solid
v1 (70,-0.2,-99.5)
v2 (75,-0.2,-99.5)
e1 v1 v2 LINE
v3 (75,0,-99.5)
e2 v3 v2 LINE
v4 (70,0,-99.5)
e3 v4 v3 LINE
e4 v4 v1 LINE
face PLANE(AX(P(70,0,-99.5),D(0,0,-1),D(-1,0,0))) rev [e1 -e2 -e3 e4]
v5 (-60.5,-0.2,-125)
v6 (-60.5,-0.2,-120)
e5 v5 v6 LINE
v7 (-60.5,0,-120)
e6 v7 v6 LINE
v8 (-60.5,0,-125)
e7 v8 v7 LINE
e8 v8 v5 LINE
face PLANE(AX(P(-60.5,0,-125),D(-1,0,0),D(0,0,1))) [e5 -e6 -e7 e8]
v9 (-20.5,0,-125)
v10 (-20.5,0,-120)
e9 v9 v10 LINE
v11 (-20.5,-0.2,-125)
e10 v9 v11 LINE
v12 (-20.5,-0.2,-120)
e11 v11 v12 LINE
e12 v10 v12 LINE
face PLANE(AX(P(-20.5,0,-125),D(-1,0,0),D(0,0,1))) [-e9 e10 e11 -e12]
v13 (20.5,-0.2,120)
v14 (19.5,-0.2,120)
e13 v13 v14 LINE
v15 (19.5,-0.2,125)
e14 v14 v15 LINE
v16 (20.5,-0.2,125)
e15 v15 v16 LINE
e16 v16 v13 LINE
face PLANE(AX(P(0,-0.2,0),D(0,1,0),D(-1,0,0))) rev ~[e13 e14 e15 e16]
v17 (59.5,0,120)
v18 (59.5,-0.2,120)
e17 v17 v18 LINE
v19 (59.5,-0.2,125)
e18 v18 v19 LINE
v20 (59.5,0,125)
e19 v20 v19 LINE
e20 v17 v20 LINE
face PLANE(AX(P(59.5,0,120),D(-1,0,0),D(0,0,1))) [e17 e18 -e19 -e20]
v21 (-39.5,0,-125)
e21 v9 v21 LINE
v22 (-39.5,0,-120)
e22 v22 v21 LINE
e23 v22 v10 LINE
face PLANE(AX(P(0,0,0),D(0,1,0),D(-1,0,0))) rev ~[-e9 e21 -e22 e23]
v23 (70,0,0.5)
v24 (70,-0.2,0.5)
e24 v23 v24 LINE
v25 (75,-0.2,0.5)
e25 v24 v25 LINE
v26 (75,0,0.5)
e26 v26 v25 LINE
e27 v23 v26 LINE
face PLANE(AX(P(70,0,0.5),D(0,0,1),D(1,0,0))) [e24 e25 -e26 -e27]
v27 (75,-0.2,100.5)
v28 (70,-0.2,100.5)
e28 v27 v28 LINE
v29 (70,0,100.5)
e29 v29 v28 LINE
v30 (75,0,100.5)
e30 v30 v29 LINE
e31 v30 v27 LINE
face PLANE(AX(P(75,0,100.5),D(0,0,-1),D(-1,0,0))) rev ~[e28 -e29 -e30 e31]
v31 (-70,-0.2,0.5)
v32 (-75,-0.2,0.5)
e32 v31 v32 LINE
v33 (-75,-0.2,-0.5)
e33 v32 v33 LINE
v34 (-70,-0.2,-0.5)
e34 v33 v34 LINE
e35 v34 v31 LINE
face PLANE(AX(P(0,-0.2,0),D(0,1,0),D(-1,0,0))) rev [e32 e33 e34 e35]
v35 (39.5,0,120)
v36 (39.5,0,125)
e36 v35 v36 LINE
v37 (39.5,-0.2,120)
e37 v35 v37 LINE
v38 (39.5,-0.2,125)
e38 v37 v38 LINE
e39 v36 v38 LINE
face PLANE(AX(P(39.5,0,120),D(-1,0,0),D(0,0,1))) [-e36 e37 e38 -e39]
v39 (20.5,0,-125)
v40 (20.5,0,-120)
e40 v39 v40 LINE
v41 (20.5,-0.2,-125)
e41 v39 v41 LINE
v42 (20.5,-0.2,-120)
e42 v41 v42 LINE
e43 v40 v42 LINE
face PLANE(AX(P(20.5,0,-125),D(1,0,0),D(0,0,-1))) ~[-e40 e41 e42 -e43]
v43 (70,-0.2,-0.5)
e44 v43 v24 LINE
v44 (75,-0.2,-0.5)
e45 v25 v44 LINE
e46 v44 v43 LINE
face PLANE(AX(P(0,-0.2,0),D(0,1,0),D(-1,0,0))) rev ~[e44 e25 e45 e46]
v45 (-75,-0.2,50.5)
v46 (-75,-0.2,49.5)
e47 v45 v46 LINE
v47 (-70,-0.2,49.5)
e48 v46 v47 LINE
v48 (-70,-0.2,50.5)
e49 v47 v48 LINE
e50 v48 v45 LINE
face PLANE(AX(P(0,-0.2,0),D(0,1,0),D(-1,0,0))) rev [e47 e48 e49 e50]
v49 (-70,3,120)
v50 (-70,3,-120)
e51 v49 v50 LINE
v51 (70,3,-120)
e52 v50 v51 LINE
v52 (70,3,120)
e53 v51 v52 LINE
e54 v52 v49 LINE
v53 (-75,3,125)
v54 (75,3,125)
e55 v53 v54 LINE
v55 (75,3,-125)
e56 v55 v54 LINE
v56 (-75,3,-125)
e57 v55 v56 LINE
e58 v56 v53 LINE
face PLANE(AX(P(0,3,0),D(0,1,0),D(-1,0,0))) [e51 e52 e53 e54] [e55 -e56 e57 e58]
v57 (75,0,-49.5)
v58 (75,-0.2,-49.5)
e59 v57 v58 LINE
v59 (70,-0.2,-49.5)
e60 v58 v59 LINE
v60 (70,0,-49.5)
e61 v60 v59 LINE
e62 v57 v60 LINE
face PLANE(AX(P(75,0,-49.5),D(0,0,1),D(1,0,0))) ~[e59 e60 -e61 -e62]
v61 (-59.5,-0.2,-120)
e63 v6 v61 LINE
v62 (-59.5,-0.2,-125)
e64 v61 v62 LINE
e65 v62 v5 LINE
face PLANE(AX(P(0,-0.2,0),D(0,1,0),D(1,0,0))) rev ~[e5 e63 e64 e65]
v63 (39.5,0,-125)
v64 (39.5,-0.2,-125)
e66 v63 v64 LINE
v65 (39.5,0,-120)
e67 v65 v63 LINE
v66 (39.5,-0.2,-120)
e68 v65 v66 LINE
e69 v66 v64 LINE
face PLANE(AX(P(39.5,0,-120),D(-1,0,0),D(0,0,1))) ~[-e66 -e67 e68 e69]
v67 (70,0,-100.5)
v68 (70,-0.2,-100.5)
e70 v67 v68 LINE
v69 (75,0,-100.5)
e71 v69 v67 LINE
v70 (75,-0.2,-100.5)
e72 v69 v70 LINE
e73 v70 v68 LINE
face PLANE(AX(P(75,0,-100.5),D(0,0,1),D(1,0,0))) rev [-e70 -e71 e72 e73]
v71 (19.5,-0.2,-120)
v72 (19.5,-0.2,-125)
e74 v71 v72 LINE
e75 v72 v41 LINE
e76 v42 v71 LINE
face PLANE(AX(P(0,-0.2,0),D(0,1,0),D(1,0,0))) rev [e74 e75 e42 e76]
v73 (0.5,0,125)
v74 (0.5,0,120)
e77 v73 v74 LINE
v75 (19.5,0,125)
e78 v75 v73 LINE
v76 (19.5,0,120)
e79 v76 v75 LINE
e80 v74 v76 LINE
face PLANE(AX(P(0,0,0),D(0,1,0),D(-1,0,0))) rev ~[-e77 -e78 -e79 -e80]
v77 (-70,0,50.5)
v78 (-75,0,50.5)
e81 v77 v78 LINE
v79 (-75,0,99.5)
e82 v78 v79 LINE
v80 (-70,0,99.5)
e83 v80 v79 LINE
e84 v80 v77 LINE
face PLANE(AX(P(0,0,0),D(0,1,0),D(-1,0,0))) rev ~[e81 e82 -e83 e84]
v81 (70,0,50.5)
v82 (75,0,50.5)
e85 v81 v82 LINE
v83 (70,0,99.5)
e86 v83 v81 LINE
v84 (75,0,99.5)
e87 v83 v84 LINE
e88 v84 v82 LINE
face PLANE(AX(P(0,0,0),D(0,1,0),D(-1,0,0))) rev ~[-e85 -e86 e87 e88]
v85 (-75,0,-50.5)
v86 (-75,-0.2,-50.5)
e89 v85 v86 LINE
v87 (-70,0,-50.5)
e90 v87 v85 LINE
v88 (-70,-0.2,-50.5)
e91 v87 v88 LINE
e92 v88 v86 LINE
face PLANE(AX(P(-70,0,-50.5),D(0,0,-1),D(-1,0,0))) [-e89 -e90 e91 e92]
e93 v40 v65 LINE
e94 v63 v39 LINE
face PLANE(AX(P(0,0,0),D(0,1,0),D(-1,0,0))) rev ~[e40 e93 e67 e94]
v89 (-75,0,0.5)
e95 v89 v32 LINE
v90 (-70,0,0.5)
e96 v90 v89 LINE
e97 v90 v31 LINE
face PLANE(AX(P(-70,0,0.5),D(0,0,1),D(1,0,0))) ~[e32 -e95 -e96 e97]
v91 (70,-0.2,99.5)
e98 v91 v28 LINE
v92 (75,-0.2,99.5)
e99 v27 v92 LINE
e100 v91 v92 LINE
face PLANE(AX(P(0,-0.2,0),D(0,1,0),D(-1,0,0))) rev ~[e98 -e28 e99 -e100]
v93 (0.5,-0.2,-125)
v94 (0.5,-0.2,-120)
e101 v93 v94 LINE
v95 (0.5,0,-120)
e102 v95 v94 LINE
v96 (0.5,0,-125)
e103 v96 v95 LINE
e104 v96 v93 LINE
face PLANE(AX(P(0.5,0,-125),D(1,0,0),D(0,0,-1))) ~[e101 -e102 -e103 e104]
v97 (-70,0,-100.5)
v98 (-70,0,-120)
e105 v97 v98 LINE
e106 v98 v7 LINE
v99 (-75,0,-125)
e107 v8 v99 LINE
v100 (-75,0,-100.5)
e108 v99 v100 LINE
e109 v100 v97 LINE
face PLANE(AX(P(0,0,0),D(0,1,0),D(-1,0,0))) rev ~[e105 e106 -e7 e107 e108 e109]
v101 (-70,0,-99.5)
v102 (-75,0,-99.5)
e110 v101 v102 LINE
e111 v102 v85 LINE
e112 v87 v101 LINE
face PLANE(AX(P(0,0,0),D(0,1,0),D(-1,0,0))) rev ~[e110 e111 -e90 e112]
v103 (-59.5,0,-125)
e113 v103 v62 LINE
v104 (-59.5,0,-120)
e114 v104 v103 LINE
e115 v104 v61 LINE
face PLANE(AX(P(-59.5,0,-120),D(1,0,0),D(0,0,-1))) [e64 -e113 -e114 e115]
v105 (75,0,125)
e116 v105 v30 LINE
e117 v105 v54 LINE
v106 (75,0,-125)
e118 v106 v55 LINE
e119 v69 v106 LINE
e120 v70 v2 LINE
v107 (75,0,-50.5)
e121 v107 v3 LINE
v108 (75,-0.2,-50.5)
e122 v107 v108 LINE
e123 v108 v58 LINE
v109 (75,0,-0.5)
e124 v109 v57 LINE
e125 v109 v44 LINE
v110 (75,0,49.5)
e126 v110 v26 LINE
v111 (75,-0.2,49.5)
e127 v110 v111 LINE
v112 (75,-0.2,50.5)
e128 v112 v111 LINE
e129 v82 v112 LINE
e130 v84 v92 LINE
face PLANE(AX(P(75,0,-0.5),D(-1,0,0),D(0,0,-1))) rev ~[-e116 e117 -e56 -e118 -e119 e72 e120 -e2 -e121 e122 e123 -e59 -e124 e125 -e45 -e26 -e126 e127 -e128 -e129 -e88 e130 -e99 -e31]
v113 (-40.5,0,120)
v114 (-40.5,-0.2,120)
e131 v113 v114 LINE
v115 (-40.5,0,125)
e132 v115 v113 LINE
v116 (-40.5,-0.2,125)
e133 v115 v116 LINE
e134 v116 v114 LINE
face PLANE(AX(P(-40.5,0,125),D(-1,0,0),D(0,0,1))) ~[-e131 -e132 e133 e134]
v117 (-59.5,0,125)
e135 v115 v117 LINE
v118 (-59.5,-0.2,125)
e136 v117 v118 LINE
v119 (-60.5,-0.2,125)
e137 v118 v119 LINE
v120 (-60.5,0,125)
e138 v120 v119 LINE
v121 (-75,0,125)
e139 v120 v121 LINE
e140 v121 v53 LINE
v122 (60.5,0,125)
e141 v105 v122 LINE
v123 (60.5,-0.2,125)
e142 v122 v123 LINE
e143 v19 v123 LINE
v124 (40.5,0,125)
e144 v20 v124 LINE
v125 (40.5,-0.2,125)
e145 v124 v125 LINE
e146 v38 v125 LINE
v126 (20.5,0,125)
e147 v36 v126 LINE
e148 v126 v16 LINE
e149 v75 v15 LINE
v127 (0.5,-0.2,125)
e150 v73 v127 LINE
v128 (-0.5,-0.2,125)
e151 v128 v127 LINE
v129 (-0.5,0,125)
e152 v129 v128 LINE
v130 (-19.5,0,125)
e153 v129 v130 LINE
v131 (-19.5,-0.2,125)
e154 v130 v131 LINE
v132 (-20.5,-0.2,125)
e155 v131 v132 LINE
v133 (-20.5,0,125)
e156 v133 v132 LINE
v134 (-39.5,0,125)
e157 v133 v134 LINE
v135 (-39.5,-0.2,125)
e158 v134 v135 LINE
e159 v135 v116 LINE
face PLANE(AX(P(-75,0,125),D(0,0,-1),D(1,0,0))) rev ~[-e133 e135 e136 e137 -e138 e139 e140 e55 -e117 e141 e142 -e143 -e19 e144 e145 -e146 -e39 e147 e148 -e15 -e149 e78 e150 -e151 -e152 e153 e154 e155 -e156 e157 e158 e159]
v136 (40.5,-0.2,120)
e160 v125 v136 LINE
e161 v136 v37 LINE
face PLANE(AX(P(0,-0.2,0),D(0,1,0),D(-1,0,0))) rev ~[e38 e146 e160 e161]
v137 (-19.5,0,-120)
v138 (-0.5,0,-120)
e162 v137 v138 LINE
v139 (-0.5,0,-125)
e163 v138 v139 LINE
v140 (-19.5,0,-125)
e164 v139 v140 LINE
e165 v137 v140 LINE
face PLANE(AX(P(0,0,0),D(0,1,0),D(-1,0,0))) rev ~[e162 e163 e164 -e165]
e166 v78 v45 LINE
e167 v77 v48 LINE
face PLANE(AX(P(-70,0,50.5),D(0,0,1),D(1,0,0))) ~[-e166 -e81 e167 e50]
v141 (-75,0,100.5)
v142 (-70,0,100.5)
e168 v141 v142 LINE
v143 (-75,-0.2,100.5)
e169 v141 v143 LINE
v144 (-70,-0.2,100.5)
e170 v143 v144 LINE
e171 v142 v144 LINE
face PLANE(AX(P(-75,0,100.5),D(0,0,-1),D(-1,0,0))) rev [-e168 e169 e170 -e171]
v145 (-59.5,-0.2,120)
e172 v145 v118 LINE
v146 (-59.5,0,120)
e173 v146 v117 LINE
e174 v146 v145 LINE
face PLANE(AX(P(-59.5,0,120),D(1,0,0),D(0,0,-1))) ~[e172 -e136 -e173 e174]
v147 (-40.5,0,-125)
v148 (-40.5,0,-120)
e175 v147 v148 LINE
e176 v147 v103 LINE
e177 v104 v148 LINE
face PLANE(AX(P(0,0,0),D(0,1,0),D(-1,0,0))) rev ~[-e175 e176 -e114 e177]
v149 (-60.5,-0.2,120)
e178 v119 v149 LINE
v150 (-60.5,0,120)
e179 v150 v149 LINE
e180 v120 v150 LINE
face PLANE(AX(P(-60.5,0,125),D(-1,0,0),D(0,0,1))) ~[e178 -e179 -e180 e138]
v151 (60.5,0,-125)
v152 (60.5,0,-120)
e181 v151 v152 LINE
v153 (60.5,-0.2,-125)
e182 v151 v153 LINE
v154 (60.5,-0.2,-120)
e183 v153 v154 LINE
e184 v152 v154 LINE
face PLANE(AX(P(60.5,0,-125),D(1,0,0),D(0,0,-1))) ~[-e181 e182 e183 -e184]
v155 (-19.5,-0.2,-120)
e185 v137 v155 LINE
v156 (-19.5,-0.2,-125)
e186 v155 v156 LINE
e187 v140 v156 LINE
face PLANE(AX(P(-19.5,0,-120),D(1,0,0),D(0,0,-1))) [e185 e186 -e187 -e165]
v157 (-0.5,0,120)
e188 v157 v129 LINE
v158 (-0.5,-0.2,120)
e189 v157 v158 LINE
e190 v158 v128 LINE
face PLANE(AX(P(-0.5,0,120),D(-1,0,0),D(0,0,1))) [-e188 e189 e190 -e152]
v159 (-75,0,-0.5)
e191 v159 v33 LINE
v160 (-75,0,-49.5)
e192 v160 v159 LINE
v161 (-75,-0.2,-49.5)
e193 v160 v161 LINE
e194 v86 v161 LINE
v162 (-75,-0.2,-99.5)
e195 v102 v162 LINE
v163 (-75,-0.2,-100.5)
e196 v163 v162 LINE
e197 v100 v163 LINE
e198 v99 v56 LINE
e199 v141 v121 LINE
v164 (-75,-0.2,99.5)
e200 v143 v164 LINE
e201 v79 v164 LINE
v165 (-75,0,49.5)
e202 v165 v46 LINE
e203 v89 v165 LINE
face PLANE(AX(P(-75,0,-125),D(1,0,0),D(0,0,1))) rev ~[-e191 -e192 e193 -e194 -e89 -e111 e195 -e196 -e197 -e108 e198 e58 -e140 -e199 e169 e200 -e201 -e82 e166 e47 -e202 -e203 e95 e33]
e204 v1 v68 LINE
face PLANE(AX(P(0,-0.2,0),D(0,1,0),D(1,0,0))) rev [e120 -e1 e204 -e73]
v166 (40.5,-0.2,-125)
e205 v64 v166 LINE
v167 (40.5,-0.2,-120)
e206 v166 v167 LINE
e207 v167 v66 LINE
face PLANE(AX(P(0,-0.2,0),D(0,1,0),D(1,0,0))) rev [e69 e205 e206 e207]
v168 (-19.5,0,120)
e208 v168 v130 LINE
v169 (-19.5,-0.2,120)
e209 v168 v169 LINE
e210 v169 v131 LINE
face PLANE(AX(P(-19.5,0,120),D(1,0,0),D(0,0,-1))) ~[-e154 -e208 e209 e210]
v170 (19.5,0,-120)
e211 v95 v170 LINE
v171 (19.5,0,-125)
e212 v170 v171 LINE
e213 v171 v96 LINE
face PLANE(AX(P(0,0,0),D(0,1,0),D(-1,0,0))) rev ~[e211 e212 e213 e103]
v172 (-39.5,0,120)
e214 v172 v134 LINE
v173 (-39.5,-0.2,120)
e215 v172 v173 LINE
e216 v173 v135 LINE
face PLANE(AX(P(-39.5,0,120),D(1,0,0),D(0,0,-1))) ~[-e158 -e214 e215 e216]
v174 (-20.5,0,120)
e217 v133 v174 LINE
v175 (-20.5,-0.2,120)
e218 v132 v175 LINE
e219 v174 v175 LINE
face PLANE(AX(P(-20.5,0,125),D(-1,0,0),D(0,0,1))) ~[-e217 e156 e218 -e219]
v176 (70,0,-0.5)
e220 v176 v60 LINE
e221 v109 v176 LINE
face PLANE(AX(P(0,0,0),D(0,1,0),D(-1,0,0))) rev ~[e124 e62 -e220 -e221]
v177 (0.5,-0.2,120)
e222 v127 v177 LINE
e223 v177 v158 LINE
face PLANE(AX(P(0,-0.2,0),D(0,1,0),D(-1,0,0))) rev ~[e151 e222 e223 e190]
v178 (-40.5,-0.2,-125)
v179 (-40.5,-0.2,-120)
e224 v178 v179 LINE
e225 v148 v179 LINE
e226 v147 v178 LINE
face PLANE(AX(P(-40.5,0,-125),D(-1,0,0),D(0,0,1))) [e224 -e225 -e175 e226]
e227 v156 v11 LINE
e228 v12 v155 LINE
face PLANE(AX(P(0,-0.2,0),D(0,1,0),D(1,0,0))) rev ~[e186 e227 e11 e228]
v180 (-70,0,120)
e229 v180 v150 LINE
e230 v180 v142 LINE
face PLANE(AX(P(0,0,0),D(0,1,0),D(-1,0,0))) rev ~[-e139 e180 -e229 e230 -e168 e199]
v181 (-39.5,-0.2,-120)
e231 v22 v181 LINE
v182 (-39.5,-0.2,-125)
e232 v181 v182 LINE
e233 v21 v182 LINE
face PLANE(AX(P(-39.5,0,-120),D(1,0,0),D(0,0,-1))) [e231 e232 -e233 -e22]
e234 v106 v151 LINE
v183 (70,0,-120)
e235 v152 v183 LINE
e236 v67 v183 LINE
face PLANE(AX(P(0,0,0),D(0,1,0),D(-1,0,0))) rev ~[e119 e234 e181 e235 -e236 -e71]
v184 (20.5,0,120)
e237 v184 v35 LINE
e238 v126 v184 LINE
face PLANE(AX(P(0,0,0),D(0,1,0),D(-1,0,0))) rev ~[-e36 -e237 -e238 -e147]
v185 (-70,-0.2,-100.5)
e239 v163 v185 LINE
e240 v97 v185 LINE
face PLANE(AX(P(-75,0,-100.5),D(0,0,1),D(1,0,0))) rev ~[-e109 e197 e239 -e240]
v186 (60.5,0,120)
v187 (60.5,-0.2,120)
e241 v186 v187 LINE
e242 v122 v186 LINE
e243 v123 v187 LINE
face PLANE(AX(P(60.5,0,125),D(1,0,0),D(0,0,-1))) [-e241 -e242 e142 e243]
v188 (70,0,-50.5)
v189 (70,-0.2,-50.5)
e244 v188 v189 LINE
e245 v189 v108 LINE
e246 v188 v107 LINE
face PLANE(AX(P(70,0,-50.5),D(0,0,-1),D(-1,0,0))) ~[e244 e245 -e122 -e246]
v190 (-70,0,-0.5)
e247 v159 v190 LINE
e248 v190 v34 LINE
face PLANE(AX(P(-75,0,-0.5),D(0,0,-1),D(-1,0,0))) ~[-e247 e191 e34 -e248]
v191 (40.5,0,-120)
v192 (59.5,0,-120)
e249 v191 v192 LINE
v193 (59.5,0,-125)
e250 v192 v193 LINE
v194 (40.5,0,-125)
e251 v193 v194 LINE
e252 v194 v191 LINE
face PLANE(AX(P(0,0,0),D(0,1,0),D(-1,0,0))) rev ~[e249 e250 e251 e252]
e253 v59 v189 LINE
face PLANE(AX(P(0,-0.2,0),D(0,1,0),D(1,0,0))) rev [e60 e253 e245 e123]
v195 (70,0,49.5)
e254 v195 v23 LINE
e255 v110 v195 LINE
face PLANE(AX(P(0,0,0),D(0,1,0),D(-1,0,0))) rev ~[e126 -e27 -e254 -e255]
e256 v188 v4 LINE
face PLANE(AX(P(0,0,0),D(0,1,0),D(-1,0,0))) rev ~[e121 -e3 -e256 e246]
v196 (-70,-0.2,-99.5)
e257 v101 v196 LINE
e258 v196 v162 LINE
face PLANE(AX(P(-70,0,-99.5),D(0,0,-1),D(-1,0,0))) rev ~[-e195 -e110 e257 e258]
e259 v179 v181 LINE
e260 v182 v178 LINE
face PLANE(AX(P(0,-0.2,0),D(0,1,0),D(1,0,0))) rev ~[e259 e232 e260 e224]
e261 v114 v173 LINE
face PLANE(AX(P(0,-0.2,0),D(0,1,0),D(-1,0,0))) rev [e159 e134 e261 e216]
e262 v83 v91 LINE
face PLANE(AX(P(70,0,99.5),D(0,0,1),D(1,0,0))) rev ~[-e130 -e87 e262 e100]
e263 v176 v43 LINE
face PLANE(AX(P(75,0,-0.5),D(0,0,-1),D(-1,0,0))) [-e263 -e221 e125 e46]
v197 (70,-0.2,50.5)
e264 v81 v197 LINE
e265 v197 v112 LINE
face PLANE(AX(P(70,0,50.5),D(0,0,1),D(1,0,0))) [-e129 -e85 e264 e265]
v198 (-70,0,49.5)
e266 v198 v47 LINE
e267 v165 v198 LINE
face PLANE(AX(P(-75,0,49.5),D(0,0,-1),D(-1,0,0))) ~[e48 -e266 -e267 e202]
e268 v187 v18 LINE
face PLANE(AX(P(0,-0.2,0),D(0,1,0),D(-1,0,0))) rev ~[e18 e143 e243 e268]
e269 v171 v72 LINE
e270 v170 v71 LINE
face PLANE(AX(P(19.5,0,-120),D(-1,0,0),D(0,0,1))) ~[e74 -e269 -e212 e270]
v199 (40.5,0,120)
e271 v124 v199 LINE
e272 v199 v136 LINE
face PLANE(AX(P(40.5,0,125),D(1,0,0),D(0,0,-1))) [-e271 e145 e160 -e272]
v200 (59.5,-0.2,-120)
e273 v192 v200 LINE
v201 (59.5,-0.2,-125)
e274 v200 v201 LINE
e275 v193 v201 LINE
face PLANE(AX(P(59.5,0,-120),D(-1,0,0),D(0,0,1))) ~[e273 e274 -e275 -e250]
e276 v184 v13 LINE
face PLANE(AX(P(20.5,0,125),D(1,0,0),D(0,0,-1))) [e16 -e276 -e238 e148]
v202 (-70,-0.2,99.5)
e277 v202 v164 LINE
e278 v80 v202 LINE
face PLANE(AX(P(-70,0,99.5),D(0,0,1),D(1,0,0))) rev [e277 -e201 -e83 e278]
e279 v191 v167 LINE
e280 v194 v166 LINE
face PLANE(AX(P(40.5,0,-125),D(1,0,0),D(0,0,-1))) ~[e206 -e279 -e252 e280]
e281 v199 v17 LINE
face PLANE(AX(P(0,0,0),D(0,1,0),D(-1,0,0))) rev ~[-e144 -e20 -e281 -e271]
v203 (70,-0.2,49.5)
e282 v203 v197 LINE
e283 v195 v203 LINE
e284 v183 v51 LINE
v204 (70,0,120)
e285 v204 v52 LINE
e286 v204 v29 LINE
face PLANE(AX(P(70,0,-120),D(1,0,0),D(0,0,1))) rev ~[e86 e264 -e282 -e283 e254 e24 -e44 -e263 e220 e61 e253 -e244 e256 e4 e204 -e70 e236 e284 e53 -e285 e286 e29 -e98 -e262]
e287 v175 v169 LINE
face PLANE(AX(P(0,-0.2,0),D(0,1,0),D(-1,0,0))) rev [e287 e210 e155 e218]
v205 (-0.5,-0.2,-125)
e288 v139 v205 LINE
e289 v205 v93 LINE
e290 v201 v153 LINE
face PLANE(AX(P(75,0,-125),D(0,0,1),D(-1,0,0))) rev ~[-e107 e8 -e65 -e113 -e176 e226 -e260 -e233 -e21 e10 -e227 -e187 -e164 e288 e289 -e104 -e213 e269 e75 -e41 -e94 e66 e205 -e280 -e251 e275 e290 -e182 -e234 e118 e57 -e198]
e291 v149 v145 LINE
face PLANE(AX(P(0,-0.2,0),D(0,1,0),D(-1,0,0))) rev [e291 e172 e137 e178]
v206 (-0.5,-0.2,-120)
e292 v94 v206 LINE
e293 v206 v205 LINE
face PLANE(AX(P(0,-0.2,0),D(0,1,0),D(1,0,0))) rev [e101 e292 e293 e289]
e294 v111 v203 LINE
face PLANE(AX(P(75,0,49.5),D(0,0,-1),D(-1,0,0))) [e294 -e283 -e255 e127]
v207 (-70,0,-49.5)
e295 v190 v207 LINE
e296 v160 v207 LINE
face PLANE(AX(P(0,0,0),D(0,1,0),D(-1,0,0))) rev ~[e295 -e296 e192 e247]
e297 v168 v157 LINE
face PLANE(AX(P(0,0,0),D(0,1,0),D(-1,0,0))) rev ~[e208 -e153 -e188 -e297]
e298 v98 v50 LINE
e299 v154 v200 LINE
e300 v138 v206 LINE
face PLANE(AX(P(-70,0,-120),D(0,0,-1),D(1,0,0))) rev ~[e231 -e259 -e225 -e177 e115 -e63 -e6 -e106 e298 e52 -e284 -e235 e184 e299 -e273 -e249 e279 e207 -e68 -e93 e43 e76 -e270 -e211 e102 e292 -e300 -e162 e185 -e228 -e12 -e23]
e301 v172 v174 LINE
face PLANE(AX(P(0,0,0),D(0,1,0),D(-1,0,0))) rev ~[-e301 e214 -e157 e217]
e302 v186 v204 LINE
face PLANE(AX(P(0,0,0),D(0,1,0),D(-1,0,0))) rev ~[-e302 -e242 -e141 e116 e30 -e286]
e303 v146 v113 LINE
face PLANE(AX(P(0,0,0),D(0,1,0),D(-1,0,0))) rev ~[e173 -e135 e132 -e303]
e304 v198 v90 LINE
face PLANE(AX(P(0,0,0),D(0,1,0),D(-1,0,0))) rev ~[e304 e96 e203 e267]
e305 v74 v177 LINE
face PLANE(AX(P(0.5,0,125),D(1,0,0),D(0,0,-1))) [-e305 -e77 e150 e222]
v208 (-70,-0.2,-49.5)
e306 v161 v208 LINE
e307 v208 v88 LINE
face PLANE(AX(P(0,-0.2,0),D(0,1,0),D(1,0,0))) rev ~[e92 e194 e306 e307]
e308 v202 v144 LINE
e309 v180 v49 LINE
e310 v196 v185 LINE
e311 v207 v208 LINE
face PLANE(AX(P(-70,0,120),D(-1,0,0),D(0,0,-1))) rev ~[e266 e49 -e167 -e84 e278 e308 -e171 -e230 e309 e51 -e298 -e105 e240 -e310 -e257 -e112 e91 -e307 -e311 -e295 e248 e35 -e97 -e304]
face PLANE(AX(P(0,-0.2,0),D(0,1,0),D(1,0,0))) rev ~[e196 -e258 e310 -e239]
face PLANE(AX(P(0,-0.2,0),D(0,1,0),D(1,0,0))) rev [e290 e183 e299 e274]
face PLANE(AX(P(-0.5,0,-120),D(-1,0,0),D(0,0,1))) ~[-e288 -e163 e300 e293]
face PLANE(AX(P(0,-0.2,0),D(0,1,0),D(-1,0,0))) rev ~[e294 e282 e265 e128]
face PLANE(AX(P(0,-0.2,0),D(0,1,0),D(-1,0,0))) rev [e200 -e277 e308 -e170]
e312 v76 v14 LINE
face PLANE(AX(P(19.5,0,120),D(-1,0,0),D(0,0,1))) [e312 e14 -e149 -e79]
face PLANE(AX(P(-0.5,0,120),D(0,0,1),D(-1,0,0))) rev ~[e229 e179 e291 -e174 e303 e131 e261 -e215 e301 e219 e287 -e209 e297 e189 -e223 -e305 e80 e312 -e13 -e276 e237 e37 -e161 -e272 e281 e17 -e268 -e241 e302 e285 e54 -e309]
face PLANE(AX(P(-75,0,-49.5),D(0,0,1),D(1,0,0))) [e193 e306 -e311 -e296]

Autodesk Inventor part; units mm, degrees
ref_plane "YZ Plane" through (0, 0, 0) normal (1, 0, 0) x (0, 1, 0)
ref_plane "XZ Plane" through (0, 0, 0) normal (0, 1, 0) x (-1, 0, 0)
ref_plane "XY Plane" through (0, 0, 0) normal (0, 0, 1) x (1, 0, 0)
sketch "Boceto1" plane through (0, 0, 0) normal (0, 1, 0) x (-1, 0, 0)
  line L0 (-75, -125) -> (75, -125)
  line L1 (75, -125) -> (75, 125)
  line L2 (75, 125) -> (-75, 125)
  line L3 (-75, 125) -> (-75, -125)
  line L4 (-75, -125) -> (75, 125) construction
  line L5 (75, -125) -> (-75, 125) construction
  line L6 (70, 120) -> (70, -120)
  line L7 (70, -120) -> (-70, -120)
  line L8 (-70, -120) -> (-70, 120)
  line L9 (-70, 120) -> (70, 120)
  line L10 (-75, 125) -> (-75, 100)
  line L11 (-75, 100) -> (-70, 100) construction
  line L12 (-75, 100) -> (-75, 50)
  line L13 (-75, 50) -> (-70, 50) construction
  line L14 (-75, 50) -> (-75, 0)
  line L15 (-75, 100.5) -> (-70, 100.5)
  line L16 (-70, 100.5) -> (-70, 99.5)
  line L17 (-70, 99.5) -> (-75, 99.5)
  line L18 (-75, 99.5) -> (-75, 100.5)
  line L19 (-75, 100.5) -> (-70, 99.5) construction
  line L20 (-70, 100.5) -> (-75, 99.5) construction
  line L21 (-75, 49.5) -> (-70, 49.5)
  line L22 (-70, 49.5) -> (-70, 50.5)
  line L23 (-70, 50.5) -> (-75, 50.5)
  line L24 (-75, 50.5) -> (-75, 49.5)
  line L25 (-75, 49.5) -> (-70, 50.5) construction
  line L26 (-70, 49.5) -> (-75, 50.5) construction
  line L27 (0, 125) -> (-20, 125) construction
  line L28 (-20, 125) -> (-40, 125) construction
  line L29 (-40, 125) -> (-60, 125) construction
  line L30 (-20, 125) -> (-20, 120) construction
  line L31 (-40, 125) -> (-40, 120) construction
  line L32 (-60, 125) -> (-60, 120) construction
  line L33 (-20.5, 120) -> (-19.5, 120)
  line L34 (-19.5, 120) -> (-19.5, 125)
  line L35 (-19.5, 125) -> (-20.5, 125)
  line L36 (-20.5, 125) -> (-20.5, 120)
  line L37 (-20.5, 120) -> (-19.5, 125) construction
  line L38 (-19.5, 120) -> (-20.5, 125) construction
  line L39 (-40.5, 120) -> (-39.5, 120)
  line L40 (-39.5, 120) -> (-39.5, 125)
  line L41 (-39.5, 125) -> (-40.5, 125)
  line L42 (-40.5, 125) -> (-40.5, 120)
  line L43 (-40.5, 120) -> (-39.5, 125) construction
  line L44 (-39.5, 120) -> (-40.5, 125) construction
  line L45 (-60.5, 120) -> (-59.5, 120)
  line L46 (-59.5, 120) -> (-59.5, 125)
  line L47 (-59.5, 125) -> (-60.5, 125)
  line L48 (-60.5, 125) -> (-60.5, 120)
  line L49 (-60.5, 120) -> (-59.5, 125) construction
  line L50 (-59.5, 120) -> (-60.5, 125) construction
  line L51 (0, 125) -> (0, 120) construction
  line L52 (-0.5, 120) -> (0.5, 120)
  line L53 (0.5, 120) -> (0.5, 125)
  line L54 (0.5, 125) -> (-0.5, 125)
  line L55 (-0.5, 125) -> (-0.5, 120)
  line L56 (-0.5, 120) -> (0.5, 125) construction
  line L57 (0.5, 120) -> (-0.5, 125) construction
  line L58 (-70, 0) -> (-75, 0) construction
  line L59 (-75, -0.5) -> (-70, -0.5)
  line L60 (-70, -0.5) -> (-70, 0.5)
  line L61 (-70, 0.5) -> (-75, 0.5)
  line L62 (-75, 0.5) -> (-75, -0.5)
  line L63 (-75, -0.5) -> (-70, 0.5) construction
  line L64 (-70, -0.5) -> (-75, 0.5) construction
  point P0 (0, 0)
  point P1 (-72.5, 100)
  point P2 (-72.5, 50)
  point P3 (-20, 122.5)
  point P4 (-40, 122.5)
  point P5 (-60, 122.5)
  point P6 (0, 122.5)
  point P7 (-72.5, 0)
  point P8 (-75, 0.5)
  point P9 (-75, -0.5)
  point P10 (-70, -0.5)
  point P11 (-75, 50.5)
  point P12 (-75, 49.5)
  point P13 (-70, 100.5)
  point P14 (-0.5, 125)
  point P15 (-0.5, 120)
  point P16 (0.5, 120)
  point P17 (0.5, 125)
  point P18 (-20.5, 125)
  point P19 (-19.5, 125)
  point P20 (-40.5, 125)
  point P21 (-40.5, 120)
  point P22 (-39.5, 120)
  point P23 (-39.5, 125)
  point P24 (-60.5, 120)
  point P25 (-59.5, 120)
  point P26 (-59.5, 125)
  dimension "d0" = 150
  dimension "d1" = 250
  dimension "d2" = 5
  dimension "d5" = 25
  dimension "d6" = 50
  dimension "d7" = 50
  dimension "d8" = 1
  dimension "d9" = 1
  dimension "d10" = 20
  dimension "d11" = 20
  dimension "d12" = 20
  dimension "d13" = 1
  dimension "d14" = 1
  dimension "d15" = 1
  dimension "d16" = 1
  dimension "d17" = 1
extrude "Extrusión1" add sketch "Boceto1" along normal blind 3 contours L3 L59 L8 L7 L6 L9 L53 L2 L1 L0 | L3 L61 L8 L59 | L53 L9 L55 L2 | L3 L21 L8 L61 | L55 L9 L34 L2 | L3 L23 L8 L21 | L34 L9 L36 L2 | L23 L3 L17 L8 | L36 L9 L40 L2 | L17 L3 L15 L8 | L40 L9 L42 L2 | L15 L3 L2 L48 L9 L8 | L42 L9 L46 L2 | L46 L9 L48 L2
extrude "Extrusión2" add sketch "Boceto1" against normal blind 0.2 contours L3 L61 L8 L59 | L53 L9 L55 L2 | L3 L23 L8 L21 | L34 L9 L36 L2 | L17 L3 L15 L8 | L40 L9 L42 L2 | L46 L9 L48 L2
mirror "Simetría1" about plane through (0, 0, 0) normal (1, 0, 0) of "Extrusión2", "Extrusión1"
mirror "Simetría2" about plane through (0, 0, 0) normal (0, 0, 1) of "Extrusión2", "Extrusión1", "Simetría1"
ref_plane "Plano de trabajo1" through (0, 0, 0) normal (1, 0, 0) x (0, 1, 0)
ref_plane "Plano de trabajo2" through (0, 0, 0) normal (-1, 0, 0) x (0, 1, 0)
ref_plane "Plano de trabajo3" through (0, 0, 0) normal (-1, 0, 0) x (0, 1, 0)
properties part number "medidor"
